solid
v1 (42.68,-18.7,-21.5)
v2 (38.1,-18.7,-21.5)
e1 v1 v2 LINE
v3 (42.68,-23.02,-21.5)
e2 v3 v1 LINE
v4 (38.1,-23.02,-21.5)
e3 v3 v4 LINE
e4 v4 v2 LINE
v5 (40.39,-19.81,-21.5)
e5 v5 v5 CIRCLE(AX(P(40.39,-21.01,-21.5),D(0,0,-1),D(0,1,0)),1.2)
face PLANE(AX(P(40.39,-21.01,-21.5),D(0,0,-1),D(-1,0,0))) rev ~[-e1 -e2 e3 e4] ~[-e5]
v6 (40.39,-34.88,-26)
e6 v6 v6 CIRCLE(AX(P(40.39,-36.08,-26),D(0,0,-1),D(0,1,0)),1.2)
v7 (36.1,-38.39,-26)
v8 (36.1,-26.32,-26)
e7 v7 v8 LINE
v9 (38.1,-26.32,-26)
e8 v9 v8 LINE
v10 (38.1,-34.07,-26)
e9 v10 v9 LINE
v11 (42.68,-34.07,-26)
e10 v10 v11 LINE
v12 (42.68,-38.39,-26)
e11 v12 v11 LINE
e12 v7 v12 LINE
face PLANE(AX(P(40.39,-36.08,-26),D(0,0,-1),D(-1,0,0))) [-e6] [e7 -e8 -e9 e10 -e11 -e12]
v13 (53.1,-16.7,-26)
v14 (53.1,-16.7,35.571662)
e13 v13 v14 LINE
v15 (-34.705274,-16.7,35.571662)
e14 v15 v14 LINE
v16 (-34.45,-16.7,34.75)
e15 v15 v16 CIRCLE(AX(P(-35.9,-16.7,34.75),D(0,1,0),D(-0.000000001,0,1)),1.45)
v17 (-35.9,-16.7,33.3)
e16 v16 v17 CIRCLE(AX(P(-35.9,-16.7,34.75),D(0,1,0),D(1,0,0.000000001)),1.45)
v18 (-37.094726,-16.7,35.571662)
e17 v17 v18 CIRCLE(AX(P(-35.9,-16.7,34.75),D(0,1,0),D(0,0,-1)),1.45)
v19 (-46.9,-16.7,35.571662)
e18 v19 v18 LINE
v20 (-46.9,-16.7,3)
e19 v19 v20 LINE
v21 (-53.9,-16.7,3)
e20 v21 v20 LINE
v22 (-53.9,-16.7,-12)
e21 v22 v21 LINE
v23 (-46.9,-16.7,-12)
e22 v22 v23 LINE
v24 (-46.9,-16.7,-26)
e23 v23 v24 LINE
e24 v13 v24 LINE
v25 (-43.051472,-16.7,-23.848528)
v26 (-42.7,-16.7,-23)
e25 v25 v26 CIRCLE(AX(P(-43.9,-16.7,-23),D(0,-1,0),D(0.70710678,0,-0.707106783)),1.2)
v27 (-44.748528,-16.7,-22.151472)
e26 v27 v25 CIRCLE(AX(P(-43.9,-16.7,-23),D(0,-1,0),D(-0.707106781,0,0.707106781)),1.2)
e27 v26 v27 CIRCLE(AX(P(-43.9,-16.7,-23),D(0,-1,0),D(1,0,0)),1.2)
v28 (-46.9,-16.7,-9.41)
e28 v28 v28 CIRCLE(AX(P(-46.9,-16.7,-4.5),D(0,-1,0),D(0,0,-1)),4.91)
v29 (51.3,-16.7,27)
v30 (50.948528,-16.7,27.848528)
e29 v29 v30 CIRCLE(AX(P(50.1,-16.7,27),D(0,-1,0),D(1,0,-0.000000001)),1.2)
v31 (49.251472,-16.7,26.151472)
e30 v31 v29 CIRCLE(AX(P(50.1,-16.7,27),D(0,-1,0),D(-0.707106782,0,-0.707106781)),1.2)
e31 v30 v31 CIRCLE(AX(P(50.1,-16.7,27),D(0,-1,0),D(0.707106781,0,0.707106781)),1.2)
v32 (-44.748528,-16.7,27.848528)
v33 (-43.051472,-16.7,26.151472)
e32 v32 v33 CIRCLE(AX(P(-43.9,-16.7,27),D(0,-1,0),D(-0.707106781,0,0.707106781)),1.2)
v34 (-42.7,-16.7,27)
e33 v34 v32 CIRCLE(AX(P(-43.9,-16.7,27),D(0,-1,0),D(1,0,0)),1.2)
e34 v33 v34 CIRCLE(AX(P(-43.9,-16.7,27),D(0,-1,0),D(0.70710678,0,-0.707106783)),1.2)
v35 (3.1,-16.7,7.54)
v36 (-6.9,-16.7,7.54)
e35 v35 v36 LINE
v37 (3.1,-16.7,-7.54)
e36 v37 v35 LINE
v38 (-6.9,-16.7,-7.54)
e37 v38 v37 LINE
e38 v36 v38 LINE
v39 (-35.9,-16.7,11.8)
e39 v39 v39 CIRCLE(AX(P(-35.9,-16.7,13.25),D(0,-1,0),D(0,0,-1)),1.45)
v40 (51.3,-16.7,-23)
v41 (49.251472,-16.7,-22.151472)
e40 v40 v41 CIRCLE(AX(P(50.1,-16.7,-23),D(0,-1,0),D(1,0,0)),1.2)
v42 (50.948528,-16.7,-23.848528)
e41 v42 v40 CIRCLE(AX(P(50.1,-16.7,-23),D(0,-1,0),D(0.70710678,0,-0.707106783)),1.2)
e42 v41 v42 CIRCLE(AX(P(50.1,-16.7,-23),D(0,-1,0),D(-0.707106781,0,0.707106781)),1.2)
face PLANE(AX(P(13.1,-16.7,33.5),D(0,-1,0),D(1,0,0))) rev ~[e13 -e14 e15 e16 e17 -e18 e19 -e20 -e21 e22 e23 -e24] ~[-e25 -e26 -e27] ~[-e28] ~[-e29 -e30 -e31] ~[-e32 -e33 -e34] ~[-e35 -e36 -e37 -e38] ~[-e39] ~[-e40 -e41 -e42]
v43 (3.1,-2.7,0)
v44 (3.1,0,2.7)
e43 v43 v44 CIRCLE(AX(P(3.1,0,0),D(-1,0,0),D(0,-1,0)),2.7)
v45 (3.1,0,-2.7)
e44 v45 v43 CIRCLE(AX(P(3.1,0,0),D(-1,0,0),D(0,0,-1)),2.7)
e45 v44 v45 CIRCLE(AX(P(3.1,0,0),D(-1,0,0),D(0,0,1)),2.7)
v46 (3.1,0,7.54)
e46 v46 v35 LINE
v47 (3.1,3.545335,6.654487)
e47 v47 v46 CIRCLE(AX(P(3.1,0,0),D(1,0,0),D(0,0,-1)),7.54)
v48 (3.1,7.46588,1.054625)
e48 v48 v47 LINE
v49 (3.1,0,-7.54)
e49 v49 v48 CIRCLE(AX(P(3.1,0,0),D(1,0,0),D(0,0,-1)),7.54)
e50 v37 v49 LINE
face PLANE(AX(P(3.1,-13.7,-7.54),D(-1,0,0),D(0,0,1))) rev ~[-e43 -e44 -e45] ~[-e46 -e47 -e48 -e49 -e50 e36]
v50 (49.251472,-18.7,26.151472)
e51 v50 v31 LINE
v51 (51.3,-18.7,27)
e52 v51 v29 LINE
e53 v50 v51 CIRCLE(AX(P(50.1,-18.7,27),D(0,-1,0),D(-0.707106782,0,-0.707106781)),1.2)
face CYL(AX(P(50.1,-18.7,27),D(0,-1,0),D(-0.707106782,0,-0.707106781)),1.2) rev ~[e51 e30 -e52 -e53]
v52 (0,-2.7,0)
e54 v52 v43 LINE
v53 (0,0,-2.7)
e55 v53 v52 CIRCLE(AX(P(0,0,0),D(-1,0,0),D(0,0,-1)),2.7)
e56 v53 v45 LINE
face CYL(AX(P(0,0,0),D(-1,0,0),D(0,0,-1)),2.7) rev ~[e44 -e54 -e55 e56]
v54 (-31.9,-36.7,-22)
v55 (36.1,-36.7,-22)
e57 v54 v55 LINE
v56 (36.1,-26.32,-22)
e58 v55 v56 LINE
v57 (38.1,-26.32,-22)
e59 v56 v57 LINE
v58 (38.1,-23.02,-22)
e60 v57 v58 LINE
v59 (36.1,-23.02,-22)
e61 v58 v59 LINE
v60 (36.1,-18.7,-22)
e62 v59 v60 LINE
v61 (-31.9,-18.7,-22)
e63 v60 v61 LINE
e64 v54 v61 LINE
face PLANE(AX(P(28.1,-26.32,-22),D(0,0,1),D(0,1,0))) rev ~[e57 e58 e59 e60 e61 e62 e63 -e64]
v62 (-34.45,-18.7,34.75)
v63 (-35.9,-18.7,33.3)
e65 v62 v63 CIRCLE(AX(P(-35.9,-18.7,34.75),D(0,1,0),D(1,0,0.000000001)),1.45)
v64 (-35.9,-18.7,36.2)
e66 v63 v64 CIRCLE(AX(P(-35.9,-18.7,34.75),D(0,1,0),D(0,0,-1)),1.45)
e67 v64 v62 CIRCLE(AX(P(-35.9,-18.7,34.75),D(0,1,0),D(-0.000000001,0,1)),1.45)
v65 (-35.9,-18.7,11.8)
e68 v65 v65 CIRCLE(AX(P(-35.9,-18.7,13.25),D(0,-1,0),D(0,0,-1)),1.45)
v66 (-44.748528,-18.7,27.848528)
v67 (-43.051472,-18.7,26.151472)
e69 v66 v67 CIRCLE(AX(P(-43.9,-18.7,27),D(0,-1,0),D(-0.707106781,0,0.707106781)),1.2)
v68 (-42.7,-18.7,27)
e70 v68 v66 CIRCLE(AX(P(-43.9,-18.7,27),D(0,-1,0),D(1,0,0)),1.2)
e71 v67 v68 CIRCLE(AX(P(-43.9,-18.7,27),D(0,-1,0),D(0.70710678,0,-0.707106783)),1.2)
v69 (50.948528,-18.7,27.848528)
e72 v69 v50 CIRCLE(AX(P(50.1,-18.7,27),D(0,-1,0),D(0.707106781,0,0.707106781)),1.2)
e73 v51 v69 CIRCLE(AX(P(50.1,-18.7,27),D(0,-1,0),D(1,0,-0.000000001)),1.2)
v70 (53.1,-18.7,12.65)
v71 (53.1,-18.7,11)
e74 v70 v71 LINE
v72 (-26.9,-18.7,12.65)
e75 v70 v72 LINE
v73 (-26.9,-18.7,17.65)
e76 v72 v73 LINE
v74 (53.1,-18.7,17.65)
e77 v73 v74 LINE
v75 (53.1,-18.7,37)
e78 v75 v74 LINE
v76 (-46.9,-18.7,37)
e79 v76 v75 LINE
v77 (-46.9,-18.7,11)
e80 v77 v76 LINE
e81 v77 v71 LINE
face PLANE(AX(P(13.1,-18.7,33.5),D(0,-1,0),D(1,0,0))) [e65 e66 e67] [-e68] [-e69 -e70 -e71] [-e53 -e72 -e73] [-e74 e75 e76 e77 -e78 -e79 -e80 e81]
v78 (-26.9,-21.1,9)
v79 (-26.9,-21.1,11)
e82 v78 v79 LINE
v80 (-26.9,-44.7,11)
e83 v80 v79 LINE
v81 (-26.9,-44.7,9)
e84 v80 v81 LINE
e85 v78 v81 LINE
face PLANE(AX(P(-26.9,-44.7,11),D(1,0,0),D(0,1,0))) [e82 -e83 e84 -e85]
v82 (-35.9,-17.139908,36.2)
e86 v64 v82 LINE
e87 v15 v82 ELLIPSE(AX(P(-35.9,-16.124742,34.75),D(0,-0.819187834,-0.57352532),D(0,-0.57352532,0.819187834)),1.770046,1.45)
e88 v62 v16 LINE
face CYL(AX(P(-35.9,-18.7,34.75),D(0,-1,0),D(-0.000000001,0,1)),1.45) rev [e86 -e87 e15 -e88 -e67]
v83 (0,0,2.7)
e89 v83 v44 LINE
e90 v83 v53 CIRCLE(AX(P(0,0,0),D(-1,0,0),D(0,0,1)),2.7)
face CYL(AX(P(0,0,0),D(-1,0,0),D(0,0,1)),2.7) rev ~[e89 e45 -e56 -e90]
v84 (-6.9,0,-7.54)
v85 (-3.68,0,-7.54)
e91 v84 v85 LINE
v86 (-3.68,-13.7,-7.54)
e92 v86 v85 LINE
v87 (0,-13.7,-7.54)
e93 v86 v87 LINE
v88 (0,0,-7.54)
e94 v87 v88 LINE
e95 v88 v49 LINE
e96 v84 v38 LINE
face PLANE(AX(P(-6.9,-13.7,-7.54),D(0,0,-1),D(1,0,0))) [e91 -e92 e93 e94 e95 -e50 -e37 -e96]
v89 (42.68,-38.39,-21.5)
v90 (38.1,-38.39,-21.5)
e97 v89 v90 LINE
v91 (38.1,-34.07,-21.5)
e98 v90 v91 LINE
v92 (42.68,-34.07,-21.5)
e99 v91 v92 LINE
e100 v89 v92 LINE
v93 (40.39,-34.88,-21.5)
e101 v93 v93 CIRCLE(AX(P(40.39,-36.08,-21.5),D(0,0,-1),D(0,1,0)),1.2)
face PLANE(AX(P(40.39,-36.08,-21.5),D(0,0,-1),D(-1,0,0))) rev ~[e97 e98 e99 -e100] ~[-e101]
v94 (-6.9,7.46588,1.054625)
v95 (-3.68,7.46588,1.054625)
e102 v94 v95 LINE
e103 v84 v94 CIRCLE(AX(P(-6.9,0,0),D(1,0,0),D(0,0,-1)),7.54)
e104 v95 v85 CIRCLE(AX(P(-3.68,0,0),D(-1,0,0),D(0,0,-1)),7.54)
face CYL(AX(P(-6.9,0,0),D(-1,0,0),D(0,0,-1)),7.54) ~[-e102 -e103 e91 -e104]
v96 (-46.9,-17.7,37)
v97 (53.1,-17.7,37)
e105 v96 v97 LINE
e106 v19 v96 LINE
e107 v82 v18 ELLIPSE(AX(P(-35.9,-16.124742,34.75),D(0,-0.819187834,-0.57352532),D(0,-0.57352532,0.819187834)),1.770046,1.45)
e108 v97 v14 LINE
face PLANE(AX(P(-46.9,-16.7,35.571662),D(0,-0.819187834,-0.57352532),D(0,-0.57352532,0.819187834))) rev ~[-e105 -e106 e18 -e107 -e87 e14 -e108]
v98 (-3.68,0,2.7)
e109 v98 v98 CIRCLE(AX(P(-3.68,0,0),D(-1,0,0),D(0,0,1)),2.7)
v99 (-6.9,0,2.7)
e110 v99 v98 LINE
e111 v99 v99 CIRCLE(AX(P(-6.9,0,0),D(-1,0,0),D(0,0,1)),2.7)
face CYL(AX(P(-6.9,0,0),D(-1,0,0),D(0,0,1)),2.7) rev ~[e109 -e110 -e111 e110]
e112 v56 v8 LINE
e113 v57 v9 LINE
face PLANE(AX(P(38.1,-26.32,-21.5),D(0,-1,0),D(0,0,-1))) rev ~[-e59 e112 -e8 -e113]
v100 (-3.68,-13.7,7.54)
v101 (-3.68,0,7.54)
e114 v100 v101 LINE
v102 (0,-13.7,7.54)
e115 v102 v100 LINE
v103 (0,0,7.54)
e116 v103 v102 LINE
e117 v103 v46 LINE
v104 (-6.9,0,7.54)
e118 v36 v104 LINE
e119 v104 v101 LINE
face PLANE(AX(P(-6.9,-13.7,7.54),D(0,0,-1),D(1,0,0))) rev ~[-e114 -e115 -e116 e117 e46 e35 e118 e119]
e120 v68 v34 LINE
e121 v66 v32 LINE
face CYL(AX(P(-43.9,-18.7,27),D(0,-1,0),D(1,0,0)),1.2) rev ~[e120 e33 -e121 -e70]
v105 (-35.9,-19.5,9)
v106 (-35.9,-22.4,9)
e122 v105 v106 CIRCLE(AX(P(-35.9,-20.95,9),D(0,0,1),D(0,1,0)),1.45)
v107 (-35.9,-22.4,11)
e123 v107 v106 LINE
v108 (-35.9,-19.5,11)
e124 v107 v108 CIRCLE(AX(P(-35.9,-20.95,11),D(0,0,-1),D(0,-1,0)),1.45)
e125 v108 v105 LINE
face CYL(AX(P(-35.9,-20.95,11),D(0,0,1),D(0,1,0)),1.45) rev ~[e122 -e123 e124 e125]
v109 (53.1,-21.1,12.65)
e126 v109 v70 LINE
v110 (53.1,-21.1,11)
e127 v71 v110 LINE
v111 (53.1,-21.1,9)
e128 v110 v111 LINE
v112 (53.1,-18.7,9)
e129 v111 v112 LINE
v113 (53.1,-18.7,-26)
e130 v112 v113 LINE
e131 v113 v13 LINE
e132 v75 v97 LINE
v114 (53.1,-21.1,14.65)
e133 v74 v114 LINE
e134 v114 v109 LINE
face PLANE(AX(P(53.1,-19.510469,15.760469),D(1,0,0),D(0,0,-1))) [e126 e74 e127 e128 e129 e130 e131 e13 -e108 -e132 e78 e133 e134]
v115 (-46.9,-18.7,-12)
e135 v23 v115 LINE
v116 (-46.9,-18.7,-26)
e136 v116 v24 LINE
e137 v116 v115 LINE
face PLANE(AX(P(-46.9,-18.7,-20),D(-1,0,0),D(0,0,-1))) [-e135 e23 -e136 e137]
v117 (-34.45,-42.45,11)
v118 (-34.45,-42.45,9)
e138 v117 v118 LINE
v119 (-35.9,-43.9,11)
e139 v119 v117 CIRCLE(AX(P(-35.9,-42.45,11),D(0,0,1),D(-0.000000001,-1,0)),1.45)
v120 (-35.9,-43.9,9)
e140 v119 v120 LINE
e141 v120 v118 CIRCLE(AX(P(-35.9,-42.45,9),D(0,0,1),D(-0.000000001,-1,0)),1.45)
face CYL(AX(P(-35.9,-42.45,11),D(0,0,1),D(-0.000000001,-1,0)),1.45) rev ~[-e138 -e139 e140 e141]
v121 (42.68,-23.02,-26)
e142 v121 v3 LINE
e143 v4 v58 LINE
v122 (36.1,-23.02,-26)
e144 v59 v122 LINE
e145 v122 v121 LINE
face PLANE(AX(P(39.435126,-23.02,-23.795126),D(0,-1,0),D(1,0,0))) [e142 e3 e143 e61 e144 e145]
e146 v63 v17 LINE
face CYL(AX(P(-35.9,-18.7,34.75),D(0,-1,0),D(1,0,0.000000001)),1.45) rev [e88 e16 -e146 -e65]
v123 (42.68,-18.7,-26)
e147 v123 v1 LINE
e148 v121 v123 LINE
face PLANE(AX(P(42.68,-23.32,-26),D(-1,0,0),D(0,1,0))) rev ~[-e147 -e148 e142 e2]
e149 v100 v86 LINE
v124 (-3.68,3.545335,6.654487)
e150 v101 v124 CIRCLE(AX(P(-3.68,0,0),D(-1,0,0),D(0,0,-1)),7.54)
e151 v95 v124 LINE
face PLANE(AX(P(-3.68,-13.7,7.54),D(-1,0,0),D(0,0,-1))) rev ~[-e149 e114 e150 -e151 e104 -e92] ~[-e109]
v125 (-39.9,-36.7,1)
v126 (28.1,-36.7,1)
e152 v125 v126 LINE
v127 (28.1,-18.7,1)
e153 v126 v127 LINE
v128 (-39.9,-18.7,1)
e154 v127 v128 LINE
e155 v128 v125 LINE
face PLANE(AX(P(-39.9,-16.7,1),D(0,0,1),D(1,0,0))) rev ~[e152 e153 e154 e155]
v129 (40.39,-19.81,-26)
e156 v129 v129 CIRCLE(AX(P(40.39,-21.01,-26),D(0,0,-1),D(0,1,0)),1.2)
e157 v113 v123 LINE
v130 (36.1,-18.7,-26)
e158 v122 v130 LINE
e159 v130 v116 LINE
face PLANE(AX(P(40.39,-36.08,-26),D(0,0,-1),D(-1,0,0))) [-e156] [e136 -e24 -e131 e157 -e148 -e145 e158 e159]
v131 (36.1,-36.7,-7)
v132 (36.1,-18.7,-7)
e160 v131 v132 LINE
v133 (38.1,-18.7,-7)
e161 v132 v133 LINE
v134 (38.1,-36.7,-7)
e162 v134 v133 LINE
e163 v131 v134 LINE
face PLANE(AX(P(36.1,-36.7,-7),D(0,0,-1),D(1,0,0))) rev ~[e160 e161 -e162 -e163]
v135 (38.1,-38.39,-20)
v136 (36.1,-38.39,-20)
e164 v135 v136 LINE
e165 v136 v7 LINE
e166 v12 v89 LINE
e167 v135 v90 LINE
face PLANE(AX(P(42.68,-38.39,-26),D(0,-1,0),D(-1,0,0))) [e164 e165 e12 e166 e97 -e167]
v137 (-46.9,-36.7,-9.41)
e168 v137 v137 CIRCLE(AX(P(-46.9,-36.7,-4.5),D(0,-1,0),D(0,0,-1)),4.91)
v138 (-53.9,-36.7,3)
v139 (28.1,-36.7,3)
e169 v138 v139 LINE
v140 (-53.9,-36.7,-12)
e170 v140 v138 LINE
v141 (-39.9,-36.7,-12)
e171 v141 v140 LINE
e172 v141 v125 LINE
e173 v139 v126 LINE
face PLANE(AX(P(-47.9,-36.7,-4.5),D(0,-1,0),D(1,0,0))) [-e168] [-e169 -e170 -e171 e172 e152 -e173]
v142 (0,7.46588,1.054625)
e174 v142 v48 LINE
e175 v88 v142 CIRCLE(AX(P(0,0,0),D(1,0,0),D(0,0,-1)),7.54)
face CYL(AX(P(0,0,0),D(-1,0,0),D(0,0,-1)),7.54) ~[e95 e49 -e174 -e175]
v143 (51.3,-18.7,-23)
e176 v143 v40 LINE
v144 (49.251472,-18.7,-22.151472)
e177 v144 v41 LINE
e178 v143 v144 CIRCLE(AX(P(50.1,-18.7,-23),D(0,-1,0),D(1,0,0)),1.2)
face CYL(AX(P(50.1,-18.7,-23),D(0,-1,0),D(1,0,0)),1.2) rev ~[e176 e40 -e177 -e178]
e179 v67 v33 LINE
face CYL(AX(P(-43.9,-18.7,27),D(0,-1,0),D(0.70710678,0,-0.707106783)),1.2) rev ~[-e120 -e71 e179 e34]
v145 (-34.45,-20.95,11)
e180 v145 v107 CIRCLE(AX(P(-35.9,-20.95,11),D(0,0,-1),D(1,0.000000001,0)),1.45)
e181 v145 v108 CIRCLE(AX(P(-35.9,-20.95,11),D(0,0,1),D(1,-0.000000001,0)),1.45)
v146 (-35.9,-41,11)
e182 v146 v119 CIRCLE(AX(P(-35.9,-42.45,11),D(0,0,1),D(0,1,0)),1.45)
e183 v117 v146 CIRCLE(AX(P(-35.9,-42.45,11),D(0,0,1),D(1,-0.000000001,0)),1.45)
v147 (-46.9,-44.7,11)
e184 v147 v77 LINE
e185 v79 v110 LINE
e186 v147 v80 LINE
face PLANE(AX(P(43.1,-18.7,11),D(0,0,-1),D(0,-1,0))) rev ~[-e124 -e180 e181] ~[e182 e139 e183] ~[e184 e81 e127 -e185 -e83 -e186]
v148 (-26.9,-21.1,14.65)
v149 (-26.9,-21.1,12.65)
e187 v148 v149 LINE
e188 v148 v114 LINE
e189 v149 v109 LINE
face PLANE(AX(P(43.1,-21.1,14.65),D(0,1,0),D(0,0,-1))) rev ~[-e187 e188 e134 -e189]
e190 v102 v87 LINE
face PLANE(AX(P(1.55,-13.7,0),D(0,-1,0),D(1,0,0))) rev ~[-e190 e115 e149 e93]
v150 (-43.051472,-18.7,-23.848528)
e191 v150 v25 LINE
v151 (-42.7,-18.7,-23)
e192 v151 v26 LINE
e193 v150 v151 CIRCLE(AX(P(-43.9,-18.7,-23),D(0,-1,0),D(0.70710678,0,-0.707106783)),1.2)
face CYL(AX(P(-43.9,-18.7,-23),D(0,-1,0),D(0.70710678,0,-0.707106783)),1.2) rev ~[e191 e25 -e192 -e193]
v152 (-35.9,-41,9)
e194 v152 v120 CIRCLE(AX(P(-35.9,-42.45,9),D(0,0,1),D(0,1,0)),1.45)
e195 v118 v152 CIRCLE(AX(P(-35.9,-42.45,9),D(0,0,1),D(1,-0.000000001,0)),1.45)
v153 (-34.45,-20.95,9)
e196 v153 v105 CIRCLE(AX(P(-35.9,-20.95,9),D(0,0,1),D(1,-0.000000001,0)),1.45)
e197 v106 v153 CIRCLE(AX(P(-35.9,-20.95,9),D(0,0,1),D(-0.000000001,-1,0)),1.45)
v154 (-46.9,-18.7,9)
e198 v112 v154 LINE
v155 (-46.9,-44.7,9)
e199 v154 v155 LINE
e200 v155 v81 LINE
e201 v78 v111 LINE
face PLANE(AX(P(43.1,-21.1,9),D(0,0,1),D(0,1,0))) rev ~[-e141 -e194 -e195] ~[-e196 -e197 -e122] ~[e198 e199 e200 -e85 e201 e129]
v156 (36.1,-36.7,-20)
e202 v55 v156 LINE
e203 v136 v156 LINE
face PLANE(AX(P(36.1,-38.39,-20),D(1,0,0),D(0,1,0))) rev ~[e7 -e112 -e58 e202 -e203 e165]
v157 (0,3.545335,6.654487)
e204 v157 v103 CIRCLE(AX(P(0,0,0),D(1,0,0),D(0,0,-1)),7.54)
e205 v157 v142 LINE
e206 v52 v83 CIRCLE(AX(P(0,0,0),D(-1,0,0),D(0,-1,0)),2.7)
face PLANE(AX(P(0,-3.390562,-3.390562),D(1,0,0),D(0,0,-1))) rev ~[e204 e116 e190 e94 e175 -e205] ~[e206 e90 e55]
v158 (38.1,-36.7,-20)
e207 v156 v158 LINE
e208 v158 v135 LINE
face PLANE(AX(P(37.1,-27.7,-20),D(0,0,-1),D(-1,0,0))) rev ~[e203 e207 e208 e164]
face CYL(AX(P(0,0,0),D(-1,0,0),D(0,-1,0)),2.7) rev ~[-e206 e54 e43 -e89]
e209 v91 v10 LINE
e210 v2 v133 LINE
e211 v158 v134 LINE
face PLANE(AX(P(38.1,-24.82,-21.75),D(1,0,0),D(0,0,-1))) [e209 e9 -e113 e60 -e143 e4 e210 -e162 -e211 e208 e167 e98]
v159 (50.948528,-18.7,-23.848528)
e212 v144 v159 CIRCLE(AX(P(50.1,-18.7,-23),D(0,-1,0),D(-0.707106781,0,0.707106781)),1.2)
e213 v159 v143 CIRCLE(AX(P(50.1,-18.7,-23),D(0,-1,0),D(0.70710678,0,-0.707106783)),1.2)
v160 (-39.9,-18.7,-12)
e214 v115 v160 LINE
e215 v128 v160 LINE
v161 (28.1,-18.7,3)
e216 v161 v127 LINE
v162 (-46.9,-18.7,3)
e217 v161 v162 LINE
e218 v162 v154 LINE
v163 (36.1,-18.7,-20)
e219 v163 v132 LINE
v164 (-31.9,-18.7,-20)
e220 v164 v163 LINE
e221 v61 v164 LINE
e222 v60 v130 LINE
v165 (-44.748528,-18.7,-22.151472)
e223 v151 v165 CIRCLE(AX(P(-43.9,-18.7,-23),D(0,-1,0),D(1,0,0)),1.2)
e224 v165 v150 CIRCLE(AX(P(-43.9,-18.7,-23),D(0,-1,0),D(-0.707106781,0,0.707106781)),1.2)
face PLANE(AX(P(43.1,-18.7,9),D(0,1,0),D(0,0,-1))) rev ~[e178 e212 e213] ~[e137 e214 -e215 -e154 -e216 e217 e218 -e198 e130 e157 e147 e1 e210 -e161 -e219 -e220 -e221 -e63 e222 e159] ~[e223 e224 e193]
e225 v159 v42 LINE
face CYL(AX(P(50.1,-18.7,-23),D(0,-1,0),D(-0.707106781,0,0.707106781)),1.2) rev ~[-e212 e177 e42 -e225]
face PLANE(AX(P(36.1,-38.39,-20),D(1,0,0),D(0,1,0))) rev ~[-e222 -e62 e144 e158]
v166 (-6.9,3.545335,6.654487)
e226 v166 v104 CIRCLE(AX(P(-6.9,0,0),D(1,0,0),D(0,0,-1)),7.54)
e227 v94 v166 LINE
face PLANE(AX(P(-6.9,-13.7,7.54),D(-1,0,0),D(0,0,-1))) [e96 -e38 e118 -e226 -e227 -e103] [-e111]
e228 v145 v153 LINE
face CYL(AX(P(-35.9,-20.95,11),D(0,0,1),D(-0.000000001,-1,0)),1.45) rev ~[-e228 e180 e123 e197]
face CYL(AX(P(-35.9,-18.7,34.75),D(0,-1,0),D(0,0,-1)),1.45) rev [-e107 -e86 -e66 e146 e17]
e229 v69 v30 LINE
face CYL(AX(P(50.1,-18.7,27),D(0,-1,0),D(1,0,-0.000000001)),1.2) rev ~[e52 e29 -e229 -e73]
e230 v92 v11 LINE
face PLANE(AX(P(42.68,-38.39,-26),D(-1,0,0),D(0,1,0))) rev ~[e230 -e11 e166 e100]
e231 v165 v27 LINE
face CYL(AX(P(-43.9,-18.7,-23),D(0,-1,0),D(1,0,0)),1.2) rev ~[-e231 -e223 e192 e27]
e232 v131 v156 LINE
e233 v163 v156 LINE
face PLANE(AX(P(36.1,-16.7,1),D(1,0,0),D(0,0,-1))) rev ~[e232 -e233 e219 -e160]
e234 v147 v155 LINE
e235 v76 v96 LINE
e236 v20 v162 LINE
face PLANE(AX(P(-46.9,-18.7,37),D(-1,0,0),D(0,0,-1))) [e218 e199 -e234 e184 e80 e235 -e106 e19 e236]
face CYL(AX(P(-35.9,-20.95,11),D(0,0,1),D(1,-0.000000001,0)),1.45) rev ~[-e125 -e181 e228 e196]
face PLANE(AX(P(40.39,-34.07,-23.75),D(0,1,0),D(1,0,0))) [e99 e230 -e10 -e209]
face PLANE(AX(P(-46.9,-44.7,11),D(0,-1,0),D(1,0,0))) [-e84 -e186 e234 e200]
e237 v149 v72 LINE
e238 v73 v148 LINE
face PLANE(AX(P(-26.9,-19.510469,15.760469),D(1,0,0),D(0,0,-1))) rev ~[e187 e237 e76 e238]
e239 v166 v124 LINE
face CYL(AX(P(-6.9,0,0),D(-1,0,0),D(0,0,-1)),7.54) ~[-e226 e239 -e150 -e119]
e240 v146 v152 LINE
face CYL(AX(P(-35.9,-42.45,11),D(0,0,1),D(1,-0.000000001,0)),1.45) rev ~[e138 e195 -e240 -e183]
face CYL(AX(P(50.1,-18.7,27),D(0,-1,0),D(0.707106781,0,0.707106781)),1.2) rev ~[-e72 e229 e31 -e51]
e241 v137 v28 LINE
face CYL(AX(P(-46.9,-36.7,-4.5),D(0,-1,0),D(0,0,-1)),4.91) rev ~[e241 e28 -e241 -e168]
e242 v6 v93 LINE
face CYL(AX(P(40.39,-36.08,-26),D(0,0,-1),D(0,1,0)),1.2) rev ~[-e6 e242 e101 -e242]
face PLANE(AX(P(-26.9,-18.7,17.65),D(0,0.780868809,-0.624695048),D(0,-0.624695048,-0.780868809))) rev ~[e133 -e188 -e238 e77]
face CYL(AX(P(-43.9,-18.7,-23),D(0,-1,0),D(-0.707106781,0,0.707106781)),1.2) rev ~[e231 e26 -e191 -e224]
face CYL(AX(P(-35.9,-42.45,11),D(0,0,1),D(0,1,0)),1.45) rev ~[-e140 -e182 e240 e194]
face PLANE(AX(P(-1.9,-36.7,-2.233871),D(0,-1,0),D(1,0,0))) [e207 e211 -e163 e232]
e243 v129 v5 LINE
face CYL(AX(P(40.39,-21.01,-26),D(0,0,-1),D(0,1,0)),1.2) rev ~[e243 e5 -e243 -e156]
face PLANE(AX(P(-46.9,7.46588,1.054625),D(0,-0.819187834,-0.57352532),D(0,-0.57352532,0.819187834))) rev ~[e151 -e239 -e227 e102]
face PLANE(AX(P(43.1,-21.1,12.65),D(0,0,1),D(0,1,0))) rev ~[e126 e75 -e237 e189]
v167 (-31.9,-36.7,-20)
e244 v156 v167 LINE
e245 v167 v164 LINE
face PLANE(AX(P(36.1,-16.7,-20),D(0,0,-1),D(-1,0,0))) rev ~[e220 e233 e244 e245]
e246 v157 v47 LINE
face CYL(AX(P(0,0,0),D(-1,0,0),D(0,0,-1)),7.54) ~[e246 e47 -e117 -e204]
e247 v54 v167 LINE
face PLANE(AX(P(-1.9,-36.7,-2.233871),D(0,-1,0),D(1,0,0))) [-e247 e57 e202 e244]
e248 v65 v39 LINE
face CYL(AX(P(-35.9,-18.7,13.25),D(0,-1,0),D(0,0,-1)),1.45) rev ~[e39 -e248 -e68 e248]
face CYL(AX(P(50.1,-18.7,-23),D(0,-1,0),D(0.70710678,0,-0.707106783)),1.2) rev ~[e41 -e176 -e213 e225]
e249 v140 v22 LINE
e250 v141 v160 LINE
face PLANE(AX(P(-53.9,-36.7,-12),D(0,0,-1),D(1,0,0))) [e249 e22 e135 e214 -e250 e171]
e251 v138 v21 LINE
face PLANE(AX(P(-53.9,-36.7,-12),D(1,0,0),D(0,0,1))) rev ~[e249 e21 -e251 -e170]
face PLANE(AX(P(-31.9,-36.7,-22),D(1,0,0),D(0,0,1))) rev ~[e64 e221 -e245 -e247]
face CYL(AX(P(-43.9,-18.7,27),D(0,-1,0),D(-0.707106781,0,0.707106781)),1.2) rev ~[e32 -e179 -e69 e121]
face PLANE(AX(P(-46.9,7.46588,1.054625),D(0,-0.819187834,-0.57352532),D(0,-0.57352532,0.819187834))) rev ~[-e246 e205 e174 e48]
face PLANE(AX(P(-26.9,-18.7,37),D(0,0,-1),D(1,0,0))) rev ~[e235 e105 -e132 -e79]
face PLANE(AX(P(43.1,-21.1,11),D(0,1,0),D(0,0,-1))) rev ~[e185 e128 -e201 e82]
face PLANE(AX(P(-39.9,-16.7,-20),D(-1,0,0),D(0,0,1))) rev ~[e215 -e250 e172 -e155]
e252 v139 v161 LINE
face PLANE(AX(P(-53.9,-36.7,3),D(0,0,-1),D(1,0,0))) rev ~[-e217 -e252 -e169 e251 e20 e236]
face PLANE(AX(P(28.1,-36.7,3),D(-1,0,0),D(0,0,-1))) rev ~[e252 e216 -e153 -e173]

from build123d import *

# Parameters (mm, degrees)
EXTRUDE_1_DEPTH      = 3.1
SKETCH_2_W           = 3.1
SKETCH_2_H           = 15.08
SKETCH_2_W_2         = 3.68
SKETCH_2_W_3         = 3.22
EXTRUDE_2_DEPTH      = 3
SKETCH_3_W           = 3.22
SKETCH_3_H           = 15.08
EXTRUDE_3_DEPTH      = 24
SKETCH_4_R           = 2.7
CUT_EXTRUDE_1_DEPTH  = 24
SKETCH_5_W           = 90
SKETCH_5_H           = 40
SKETCH_5_W_2         = 10
SKETCH_5_H_2         = 15.08
EXTRUDE_4_DEPTH      = 2
EXTRUDE_START        = -2
EXTRUDE_6_DEPTH      = 20
CUT_EXTRUDE_2_DEPTH  = 18
SKETCH_8_W           = 2
SKETCH_8_H           = 2
EXTRUDE_8_DEPTH      = 2.4
SKETCH_9_W           = 33
SKETCH_9_H           = 2
SKETCH_9_W_2         = 3
EXTRUDE_9_DEPTH      = 2.4
SKETCH_10_W          = 2
SKETCH_10_H          = 1.65
SKETCH_10_W_2        = 10
SKETCH_10_H_2        = 2
EXTRUDE_10_DEPTH     = 15.6
SKETCH_11_W          = 12
SKETCH_11_H          = 15
EXTRUDE_11_DEPTH     = 20
CUT_EXTRUDE_3_DEPTH  = 20
EXTRUDE_12_DEPTH     = 2
CUT_EXTRUDE_4_DEPTH  = 3.65
SKETCH_15_W          = 10
SKETCH_15_H          = 15.6
CUT_EXTRUDE_5_DEPTH  = 3.65
SKETCH_17_W          = 20
SKETCH_17_H          = 8
EXTRUDE_13_DEPTH     = 2
CUT_EXTRUDE_6_DEPTH  = 2
SKETCH_19_W          = 10
SKETCH_19_H          = 2.4
CUT_EXTRUDE_7_DEPTH  = 3.65
SKETCH_20_R          = 4.71
CUT_EXTRUDE_8_DEPTH  = 20
SKETCH_21_W          = 90
SKETCH_21_H          = 2
EXTRUDE_14_DEPTH     = 10
EXTRUDE_15_DEPTH     = 10
CUT_EXTRUDE_9_DEPTH  = 2
SKETCH_24_W          = 4.58
SKETCH_24_H          = 4.62
SKETCH_24_R          = 1.2
EXTRUDE_16_DEPTH     = 4.5
SKETCH_25_W          = 4.58
SKETCH_25_H          = 4.62
SKETCH_25_R          = 1.2
EXTRUDE_17_DEPTH     = 4.5
SKETCH_26_W          = 2
SKETCH_26_H          = 1.69
EXTRUDE_18_DEPTH     = 6
SKETCH_27_W          = 4.5
SKETCH_27_H          = 3
CUT_EXTRUDE_10_DEPTH = 10
SKETCH_28_W          = 0.5
SKETCH_28_H          = 3
EXTRUDE_19_DEPTH     = 10
SKETCH_29_R          = 4.91
SKETCH_29_R_2        = 4.71
CUT_EXTRUDE_11_DEPTH = 76.91039191
EXTRUDE_20_DEPTH     = 2
SKETCH_34_W          = 4.58
SKETCH_34_H          = 4.5
CUT_EXTRUDE_12_DEPTH = 0.3
CUT_EXTRUDE_13_DEPTH = 0.3
SKETCH_36_W          = 80
SKETCH_36_H          = 7
EXTRUDE_21_DEPTH     = 2
SKETCH_37_R          = 1.45
CUT_EXTRUDE_14_DEPTH = 2
CUT_EXTRUDE_15_DEPTH = 116.616132092
EXTRUDE_22_DEPTH     = 80


with BuildPart() as part:
    # 草图1 → 凸台-拉伸1 (new body)
    with BuildSketch(Plane(origin=(0, 0, 0), x_dir=(0, 0, -1), z_dir=(1, 0, 0))):
        with BuildLine():
            ThreePointArc((2.7, 0), (1.909188309, -1.909188309), (0, -2.7))
            Line((0, -2.7), (0, -7.54))
            ThreePointArc((0, -7.54), (5.33158513, -5.33158513), (7.54, 0))
            Line((7.54, 0), (2.7, 0))
        make_face()
        with BuildLine():
            Line((0, -7.54), (0, -2.7))
            ThreePointArc((0, -2.7), (-1.909188309, -1.909188309), (-2.7, 0))
            Line((-2.7, 0), (-7.54, 0))
            ThreePointArc((-7.54, 0), (-5.33158513, -5.33158513), (0, -7.54))
        make_face()
        with BuildLine():
            ThreePointArc((2.7, 0), (1.909188309, -1.909188309), (0, -2.7))
            Line((0, -2.7), (0, -7.54))
            ThreePointArc((0, -7.54), (5.33158513, -5.33158513), (7.54, 0))
            Line((7.54, 0), (2.7, 0))
        make_face()
        with BuildLine():
            Line((0, -7.54), (0, -2.7))
            ThreePointArc((0, -2.7), (-1.909188309, -1.909188309), (-2.7, 0))
            Line((-2.7, 0), (-7.54, 0))
            ThreePointArc((-7.54, 0), (-5.33158513, -5.33158513), (0, -7.54))
        make_face()
        with BuildLine():
            Line((0, -13.7), (0, -7.54))
            ThreePointArc((0, -7.54), (-5.33158513, -5.33158513), (-7.54, 0))
            Line((-7.54, 0), (-7.54, -13.7))
            Line((-7.54, -13.7), (0, -13.7))
        make_face()
        with BuildLine():
            ThreePointArc((-2.7, 0), (0, 2.7), (2.7, 0))
            Line((2.7, 0), (7.54, 0))
            ThreePointArc((7.54, 0), (0, 7.54), (-7.54, 0))
            Line((-7.54, 0), (-2.7, 0))
        make_face()
        with BuildLine():
            ThreePointArc((7.54, 0), (5.33158513, -5.33158513), (0, -7.54))
            Line((0, -7.54), (0, -13.7))
            Line((0, -13.7), (7.54, -13.7))
            Line((7.54, -13.7), (7.54, 0))
        make_face()
    extrude(amount=EXTRUDE_1_DEPTH)

    # 草图2 → 凸台-拉伸2 (add)
    with BuildSketch(Plane.XZ.offset(13.7)):
        with Locations((1.55, 0)):
            Rectangle(SKETCH_2_W, SKETCH_2_H)
        with Locations((-1.84, 0)):
            Rectangle(SKETCH_2_W_2, SKETCH_2_H)
        with Locations((-5.29, 0)):
            Rectangle(SKETCH_2_W_3, SKETCH_2_H)
    extrude(amount=EXTRUDE_2_DEPTH)

    # 草图3 → 凸台-拉伸3 (add)
    with BuildSketch(Plane(origin=(0, -13.7, 0), x_dir=(1, 0, 0), z_dir=(0, 1, 0))):
        with Locations((-5.29, 0)):
            Rectangle(SKETCH_3_W, SKETCH_3_H)
    extrude(amount=EXTRUDE_3_DEPTH)

    # 草图4 → 切除-拉伸1 (cut)
    with BuildSketch(Plane.ZY.offset(6.9)):
        with BuildLine():
            ThreePointArc((-7.54, 0), (0, 7.54), (7.54, 0))
            Line((7.54, 0), (7.54, 10.3))
            Line((7.54, 10.3), (-7.54, 10.3))
            Line((-7.54, 10.3), (-7.54, 0))
        make_face()
        Circle(SKETCH_4_R)
    extrude(amount=-CUT_EXTRUDE_1_DEPTH, mode=Mode.SUBTRACT)

    # 草图5 → 凸台-拉伸4 (add)
    # profile 1 of 3: a face of its own
    with BuildSketch(Plane.XZ.offset(16.7)):
        with Locations((-1.9, 0)):
            Rectangle(SKETCH_5_W, SKETCH_5_H)
        with Locations((-1.9, 0)):
            Rectangle(SKETCH_5_W_2, SKETCH_5_H_2, mode=Mode.SUBTRACT)
    # profile 2 of 3: a face of its own
    with BuildSketch(Plane.XZ.offset(16.7)):
        Polygon((-6.9, 7.54), (3.1, -7.54), (-6.9, -7.54), align=None)
    # profile 3 of 3: a face of its own
    with BuildSketch(Plane.XZ.offset(16.7)):
        Polygon((-6.9, 7.54), (3.1, -7.54), (3.1, 7.54), align=None)
    extrude(amount=EXTRUDE_4_DEPTH)

    # 草图6 → 凸台-拉伸6 (add)
    with BuildSketch(Plane.XZ.offset(18.7).offset(EXTRUDE_START)):
        Polygon((-41.9, -20), (-39.9, -20), (-39.9, 1), (36.1, 1), (36.1, -20), (38.1, -20), (38.1, 3), (-41.9, 3), align=None)
        Polygon((36.1, -20), (-39.9, -20), (-41.9, -20), (-41.9, -22), (38.1, -22), (38.1, -20), align=None)
    extrude(amount=EXTRUDE_6_DEPTH)

    # 草图7 → 切除-拉伸2 (cut)
    with BuildSketch(Plane.XZ.offset(36.7)):
        Polygon((38.1, -7), (38.1, 3), (28.1, 3), (28.1, 1), (36.1, 1), (36.1, -7), align=None)
        Polygon((-39.9, -12), (-41.9, -12), (-41.9, -22), (-31.9, -22), (-31.9, -20), (-39.9, -20), align=None)
    extrude(amount=-CUT_EXTRUDE_2_DEPTH, mode=Mode.SUBTRACT)

    # 草图8 → 凸台-拉伸8 (add)
    with BuildSketch(Plane.XZ.offset(18.7)):
        Polygon((-43.9, 12.65), (-41.9, 12.65), (8.1, 12.65), (10.1, 12.65), (10.1, 14.65), (-43.9, 14.65), align=None)
        Polygon((-41.9, 11), (-41.9, 9), (10.1, 9), (10.1, 11), (8.1, 11), align=None)
        with Locations((-42.9, 10)):
            Rectangle(SKETCH_8_W, SKETCH_8_H)
    extrude(amount=EXTRUDE_8_DEPTH)

    # 草图9 → 凸台-拉伸9 (add)
    with BuildSketch(Plane.XZ.offset(21.1)):
        with Locations((26.6, 13.65)):
            Rectangle(SKETCH_9_W, SKETCH_9_H)
        with Locations((26.6, 10)):
            Rectangle(SKETCH_9_W, SKETCH_9_H)
        with Locations((-45.4, 13.65)):
            Rectangle(SKETCH_9_W_2, SKETCH_9_H)
        with Locations((-45.4, 10)):
            Rectangle(SKETCH_9_W_2, SKETCH_9_H)
    extrude(amount=-EXTRUDE_9_DEPTH)

    # 草图10 → 凸台-拉伸10 (add)
    with BuildSketch(Plane.XZ.offset(21.1)):
        Polygon((-26.9, 14.65), (-36.9, 14.65), (-36.9, 12.65), (-34.9, 12.65), (-26.9, 12.65), align=None)
        with Locations((-35.9, 11.825)):
            Rectangle(SKETCH_10_W, SKETCH_10_H)
        Polygon((-34.9, 11), (-36.9, 11), (-36.9, 9), (-26.9, 9), (-26.9, 11), align=None)
        with Locations((-41.9, 13.65)):
            Rectangle(SKETCH_10_W_2, SKETCH_10_H_2)
        with Locations((-41.9, 10)):
            Rectangle(SKETCH_10_W_2, SKETCH_10_H_2)
    extrude(amount=EXTRUDE_10_DEPTH)

    # 草图11 → 凸台-拉伸11 (add)
    with BuildSketch(Plane.XZ.offset(36.7)):
        with Locations((-47.9, -4.5)):
            Rectangle(SKETCH_11_W, SKETCH_11_H)
    extrude(amount=-EXTRUDE_11_DEPTH)

    # 草图12 → 切除-拉伸3 (cut)
    with BuildSketch(Plane.XZ.offset(36.7)):
        with BuildLine():
            ThreePointArc((-49.7077396, -1.491707571), (-49.908292429, -7.3077396), (-44.0922604, -7.508292429))
            Line((-44.0922604, -7.508292429), (-49.7077396, -1.491707571))
        make_face()
        with BuildLine():
            Line((-49.7077396, -1.491707571), (-44.0922604, -7.508292429))
            ThreePointArc((-44.0922604, -7.508292429), (-43.125938961, -6.140026912), (-42.785, -4.5))
            ThreePointArc((-42.785, -4.5), (-45.259973088, -0.725938961), (-49.7077396, -1.491707571))
        make_face()
        with BuildLine():
            ThreePointArc((-49.7077396, -1.491707571), (-49.908292429, -7.3077396), (-44.0922604, -7.508292429))
            Line((-44.0922604, -7.508292429), (-49.7077396, -1.491707571))
        make_face()
        with BuildLine():
            Line((-49.7077396, -1.491707571), (-44.0922604, -7.508292429))
            ThreePointArc((-44.0922604, -7.508292429), (-43.125938961, -6.140026912), (-42.785, -4.5))
            ThreePointArc((-42.785, -4.5), (-45.259973088, -0.725938961), (-49.7077396, -1.491707571))
        make_face()
    extrude(amount=-CUT_EXTRUDE_3_DEPTH, mode=Mode.SUBTRACT)

    # 草图13 → 凸台-拉伸12 (add)
    with BuildSketch(Plane.XZ.offset(18.7)):
        Polygon((-41.9, -20), (-46.9, -20), (-46.9, -26), (43.1, -26), (43.1, -20), (38.1, -20), (38.1, -22), (-31.9, -22), (-41.9, -22), align=None)
    extrude(amount=-EXTRUDE_12_DEPTH)

    # 草图14 → 切除-拉伸4 (cut)
    with BuildSketch(Plane.XY.offset(14.65)):
        Polygon((-46.9, -36.7), (-36.9, -36.7), (-36.9, -21.1), (-36.9, -18.7), (-46.9, -18.7), align=None)
    extrude(amount=-CUT_EXTRUDE_4_DEPTH, mode=Mode.SUBTRACT)

    # 草图15 → 切除-拉伸5 (cut)
    with BuildSketch(Plane.XY.offset(14.65)):
        with Locations((-31.9, -28.9)):
            Rectangle(SKETCH_15_W, SKETCH_15_H)
    extrude(amount=-CUT_EXTRUDE_5_DEPTH, mode=Mode.SUBTRACT)

    # 草图17 → 凸台-拉伸13 (add)
    with BuildSketch(Plane.XY.offset(11)):
        with Locations((-36.9, -40.7)):
            Rectangle(SKETCH_17_W, SKETCH_17_H)
    extrude(amount=-EXTRUDE_13_DEPTH)

    # 草图18 → 切除-拉伸6 (cut)
    with BuildSketch(Plane.XY.offset(11)):
        with BuildLine():
            ThreePointArc((-35.9, -19.5), (-37.35, -20.95), (-35.9, -22.4))
            Line((-35.9, -22.4), (-35.9, -19.5))
        make_face()
        with BuildLine():
            Line((-35.9, -19.5), (-35.9, -22.4))
            ThreePointArc((-35.9, -22.4), (-34.874695167, -21.975304833), (-34.45, -20.95))
            ThreePointArc((-34.45, -20.95), (-34.874695167, -19.924695167), (-35.9, -19.5))
        make_face()
        with BuildLine():
            ThreePointArc((-35.9, -19.5), (-37.35, -20.95), (-35.9, -22.4))
            Line((-35.9, -22.4), (-35.9, -19.5))
        make_face()
        with BuildLine():
            Line((-35.9, -19.5), (-35.9, -22.4))
            ThreePointArc((-35.9, -22.4), (-34.874695167, -21.975304833), (-34.45, -20.95))
            ThreePointArc((-34.45, -20.95), (-34.874695167, -19.924695167), (-35.9, -19.5))
        make_face()
        with BuildLine():
            ThreePointArc((-35.9, -41), (-37.35, -42.45), (-35.9, -43.9))
            Line((-35.9, -43.9), (-35.9, -41))
        make_face()
        with BuildLine():
            Line((-35.9, -41), (-35.9, -43.9))
            ThreePointArc((-35.9, -43.9), (-34.874695167, -43.475304833), (-34.45, -42.45))
            ThreePointArc((-34.45, -42.45), (-34.874695167, -41.424695167), (-35.9, -41))
        make_face()
        with BuildLine():
            ThreePointArc((-35.9, -41), (-37.35, -42.45), (-35.9, -43.9))
            Line((-35.9, -43.9), (-35.9, -41))
        make_face()
        with BuildLine():
            Line((-35.9, -41), (-35.9, -43.9))
            ThreePointArc((-35.9, -43.9), (-34.874695167, -43.475304833), (-34.45, -42.45))
            ThreePointArc((-34.45, -42.45), (-34.874695167, -41.424695167), (-35.9, -41))
        make_face()
    extrude(amount=-CUT_EXTRUDE_6_DEPTH, mode=Mode.SUBTRACT)

    # 草图19 → 切除-拉伸7 (cut)
    with BuildSketch(Plane.XY.offset(14.65)):
        with Locations((-31.9, -19.9)):
            Rectangle(SKETCH_19_W, SKETCH_19_H)
    extrude(amount=-CUT_EXTRUDE_7_DEPTH, mode=Mode.SUBTRACT)

    # 草图20 → 切除-拉伸8 (cut)
    with BuildSketch(Plane.XZ.offset(36.7)):
        with Locations(Location((-46.9, -4.5, 0), (0, 0, 270))):
            Circle(SKETCH_20_R)
    extrude(amount=-CUT_EXTRUDE_8_DEPTH, mode=Mode.SUBTRACT)

    # 草图21 → 凸台-拉伸14 (add)
    with BuildSketch(Plane.XY.offset(20)):
        with Locations((-1.9, -17.7)):
            Rectangle(SKETCH_21_W, SKETCH_21_H)
    extrude(amount=EXTRUDE_14_DEPTH)

    # 草图22 → 凸台-拉伸15 (add)
    with BuildSketch(Plane(origin=(43.1, 0, 0), x_dir=(0, 0, -1), z_dir=(1, 0, 0))):
        Polygon((26, -16.7), (-30, -16.7), (-30, -18.7), (-14.65, -18.7), (-14.65, -21.1), (-12.65, -21.1), (-12.65, -18.7), (-11, -18.7), (-11, -21.1), (-9, -21.1), (-9, -18.7), (26, -18.7), align=None)
    extrude(amount=EXTRUDE_15_DEPTH)

    # 草图23 → 切除-拉伸9 (cut)
    with BuildSketch(Plane.XZ.offset(18.7)):
        with BuildLine():
            ThreePointArc((49.251471863, -22.151471863), (49.251471863, -23.848528137), (50.948528137, -23.848528137))
            Line((50.948528137, -23.848528137), (49.251471863, -22.151471863))
        make_face()
        with BuildLine():
            Line((49.251471863, -22.151471863), (50.948528137, -23.848528137))
            ThreePointArc((50.948528137, -23.848528137), (51.208655439, -23.459220119), (51.3, -23))
            ThreePointArc((51.3, -23), (50.559220119, -21.891344561), (49.251471863, -22.151471863))
        make_face()
        with BuildLine():
            ThreePointArc((49.251471863, -22.151471863), (49.251471863, -23.848528137), (50.948528137, -23.848528137))
            Line((50.948528137, -23.848528137), (49.251471863, -22.151471863))
        make_face()
        with BuildLine():
            Line((49.251471863, -22.151471863), (50.948528137, -23.848528137))
            ThreePointArc((50.948528137, -23.848528137), (51.208655439, -23.459220119), (51.3, -23))
            ThreePointArc((51.3, -23), (50.559220119, -21.891344561), (49.251471863, -22.151471863))
        make_face()
        with BuildLine():
            ThreePointArc((51.3, 27), (51.208655439, 27.459220119), (50.948528137, 27.848528137))
            Line((50.948528137, 27.848528137), (49.251471863, 26.151471863))
            ThreePointArc((49.251471863, 26.151471863), (50.559220119, 25.891344561), (51.3, 27))
        make_face()
        with BuildLine():
            Line((49.251471863, 26.151471863), (50.948528137, 27.848528137))
            ThreePointArc((50.948528137, 27.848528137), (49.251471863, 27.848528137), (49.251471863, 26.151471863))
        make_face()
        with BuildLine():
            ThreePointArc((51.3, 27), (51.208655439, 27.459220119), (50.948528137, 27.848528137))
            Line((50.948528137, 27.848528137), (49.251471863, 26.151471863))
            ThreePointArc((49.251471863, 26.151471863), (50.559220119, 25.891344561), (51.3, 27))
        make_face()
        with BuildLine():
            Line((49.251471863, 26.151471863), (50.948528137, 27.848528137))
            ThreePointArc((50.948528137, 27.848528137), (49.251471863, 27.848528137), (49.251471863, 26.151471863))
        make_face()
        with BuildLine():
            ThreePointArc((-42.7, 27), (-43.440779881, 28.108655439), (-44.748528137, 27.848528137))
            Line((-44.748528137, 27.848528137), (-43.051471863, 26.151471863))
            ThreePointArc((-43.051471863, 26.151471863), (-42.791344561, 26.540779881), (-42.7, 27))
        make_face()
        with BuildLine():
            Line((-43.051471863, 26.151471863), (-44.748528137, 27.848528137))
            ThreePointArc((-44.748528137, 27.848528137), (-44.748528137, 26.151471863), (-43.051471863, 26.151471863))
        make_face()
        with BuildLine():
            ThreePointArc((-42.7, 27), (-43.440779881, 28.108655439), (-44.748528137, 27.848528137))
            Line((-44.748528137, 27.848528137), (-43.051471863, 26.151471863))
            ThreePointArc((-43.051471863, 26.151471863), (-42.791344561, 26.540779881), (-42.7, 27))
        make_face()
        with BuildLine():
            Line((-43.051471863, 26.151471863), (-44.748528137, 27.848528137))
            ThreePointArc((-44.748528137, 27.848528137), (-44.748528137, 26.151471863), (-43.051471863, 26.151471863))
        make_face()
        with BuildLine():
            ThreePointArc((-42.7, -23), (-43.440779881, -21.891344561), (-44.748528137, -22.151471863))
            Line((-44.748528137, -22.151471863), (-43.051471863, -23.848528137))
            ThreePointArc((-43.051471863, -23.848528137), (-42.791344561, -23.459220119), (-42.7, -23))
        make_face()
        with BuildLine():
            Line((-43.051471863, -23.848528137), (-44.748528137, -22.151471863))
            ThreePointArc((-44.748528137, -22.151471863), (-44.748528137, -23.848528137), (-43.051471863, -23.848528137))
        make_face()
        with BuildLine():
            ThreePointArc((-42.7, -23), (-43.440779881, -21.891344561), (-44.748528137, -22.151471863))
            Line((-44.748528137, -22.151471863), (-43.051471863, -23.848528137))
            ThreePointArc((-43.051471863, -23.848528137), (-42.791344561, -23.459220119), (-42.7, -23))
        make_face()
        with BuildLine():
            Line((-43.051471863, -23.848528137), (-44.748528137, -22.151471863))
            ThreePointArc((-44.748528137, -22.151471863), (-44.748528137, -23.848528137), (-43.051471863, -23.848528137))
        make_face()
    extrude(amount=-CUT_EXTRUDE_9_DEPTH, mode=Mode.SUBTRACT)

    # 草图24 → 凸台-拉伸16 (add)
    with BuildSketch(Plane(origin=(0, 0, -26), x_dir=(-1, 0, 0), z_dir=(0, 0, -1))):
        with Locations((-40.39, -21.01)):
            Rectangle(SKETCH_24_W, SKETCH_24_H)
        with Locations(Location((-40.39, -21.01, 0), (0, 0, 90))):
            Circle(SKETCH_24_R, mode=Mode.SUBTRACT)
    extrude(amount=-EXTRUDE_16_DEPTH)

    # 草图25 → 凸台-拉伸17 (add)
    with BuildSketch(Plane(origin=(0, 0, -26), x_dir=(-1, 0, 0), z_dir=(0, 0, -1))):
        with Locations((-40.39, -36.08)):
            Rectangle(SKETCH_25_W, SKETCH_25_H)
        with Locations(Location((-40.39, -36.08, 0), (0, 0, 90))):
            Circle(SKETCH_25_R, mode=Mode.SUBTRACT)
    extrude(amount=-EXTRUDE_17_DEPTH)

    # 草图26 → 凸台-拉伸18 (add)
    with BuildSketch(Plane(origin=(0, 0, -22), x_dir=(-1, 0, 0), z_dir=(0, 0, -1)).offset(EXTRUDE_START)):
        Polygon((-36.1, -18.7), (-38.1, -18.7), (-38.1, -23.32), (-38.1, -33.77), (-38.1, -36.7), (-36.1, -36.7), align=None)
        with Locations((-37.1, -37.545)):
            Rectangle(SKETCH_26_W, SKETCH_26_H)
    extrude(amount=EXTRUDE_18_DEPTH)

    # 草图27 → 切除-拉伸10 (cut)
    with BuildSketch(Plane(origin=(38.1, 0, 0), x_dir=(0, 0, -1), z_dir=(1, 0, 0))):
        with Locations((23.75, -24.82)):
            Rectangle(SKETCH_27_W, SKETCH_27_H)
    extrude(amount=-CUT_EXTRUDE_10_DEPTH, mode=Mode.SUBTRACT)

    # 草图28 → 凸台-拉伸19 (add)
    with BuildSketch(Plane(origin=(28.1, 0, 0), x_dir=(0, 0, -1), z_dir=(1, 0, 0))):
        with Locations((21.75, -24.82)):
            Rectangle(SKETCH_28_W, SKETCH_28_H)
    extrude(amount=EXTRUDE_19_DEPTH)

    # 草图29 → 切除-拉伸11 (cut, through all)
    with BuildSketch(Plane.XZ.offset(36.7)):
        with Locations(Location((-46.9, -4.5, 0), (0, 0, 270))):
            Circle(SKETCH_29_R)
        with Locations((-46.9, -4.5)):
            Circle(SKETCH_29_R_2, mode=Mode.SUBTRACT)
    extrude(amount=-CUT_EXTRUDE_11_DEPTH, mode=Mode.SUBTRACT)

    # 草图33 → 凸台-拉伸20 (add)
    with BuildSketch(Plane.XZ.offset(18.7)):
        with BuildLine():
            Line((-46.9, 37), (-46.9, 30))
            Line((-46.9, 30), (-35.9, 30))
            Line((-35.9, 30), (-35.9, 33.3))
            ThreePointArc((-35.9, 33.3), (-37.35, 34.75), (-35.9, 36.2))
            Line((-35.9, 36.2), (-35.9, 37))
            Line((-35.9, 37), (-46.9, 37))
        make_face()
        with BuildLine():
            Line((-35.9, 33.3), (-35.9, 30))
            Line((-35.9, 30), (-26.9, 30))
            Line((-26.9, 30), (-26.9, 37))
            Line((-26.9, 37), (-35.9, 37))
            Line((-35.9, 37), (-35.9, 36.2))
            ThreePointArc((-35.9, 36.2), (-34.874695167, 35.775304833), (-34.45, 34.75))
            ThreePointArc((-34.45, 34.75), (-34.874695167, 33.724695167), (-35.9, 33.3))
        make_face()
    extrude(amount=-EXTRUDE_20_DEPTH)

    # 草图34 → 切除-拉伸12 (cut)
    with BuildSketch(Plane(origin=(0, -33.77, 0), x_dir=(1, 0, 0), z_dir=(0, 1, 0))):
        with Locations((40.39, 23.75)):
            Rectangle(SKETCH_34_W, SKETCH_34_H)
    extrude(amount=-CUT_EXTRUDE_12_DEPTH, mode=Mode.SUBTRACT)

    # 草图35 → 切除-拉伸13 (cut)
    with BuildSketch(Plane.XZ.offset(23.32)):
        Polygon((38.1, -22), (36.1, -22), (36.1, -26), (42.68, -26), (42.68, -21.5), (38.1, -21.5), align=None)
    extrude(amount=-CUT_EXTRUDE_13_DEPTH, mode=Mode.SUBTRACT)

    # 草图36 → 凸台-拉伸21 (add)
    with BuildSketch(Plane.XZ.offset(18.7)):
        with Locations((13.1, 33.5)):
            Rectangle(SKETCH_36_W, SKETCH_36_H)
    extrude(amount=-EXTRUDE_21_DEPTH)

    # 草图37 → 切除-拉伸14 (cut)
    with BuildSketch(Plane.XZ.offset(18.7)):
        with Locations(Location((-35.9, 13.25, 0), (0, 0, 270))):
            Circle(SKETCH_37_R)
    extrude(amount=-CUT_EXTRUDE_14_DEPTH, mode=Mode.SUBTRACT)

    # 草图38 → 切除-拉伸15 (cut, through all)
    with BuildSketch(Plane.ZY.offset(46.9)):
        Polygon((37, -17.7), (37, -16.7), (35.571662303, -16.7), align=None)
        with BuildLine():
            ThreePointArc((6.654487216, 3.545334949), (5.644898214, 4.998672239), (4.32438096, 6.176676235))
            ThreePointArc((4.32438096, 6.176676235), (2.765671186, 7.014460983), (1.054624677, 7.465880175))
            Line((1.054624677, 7.465880175), (6.654487216, 3.545334949))
        make_face()
    extrude(amount=-CUT_EXTRUDE_15_DEPTH, mode=Mode.SUBTRACT)

    # 草图39 → 凸台-拉伸22 (add)
    with BuildSketch(Plane.ZY.offset(26.9)):
        Polygon((14.65, -18.7), (17.65, -18.7), (14.65, -21.1), align=None)
    extrude(amount=-EXTRUDE_22_DEPTH)


solid = part.part
